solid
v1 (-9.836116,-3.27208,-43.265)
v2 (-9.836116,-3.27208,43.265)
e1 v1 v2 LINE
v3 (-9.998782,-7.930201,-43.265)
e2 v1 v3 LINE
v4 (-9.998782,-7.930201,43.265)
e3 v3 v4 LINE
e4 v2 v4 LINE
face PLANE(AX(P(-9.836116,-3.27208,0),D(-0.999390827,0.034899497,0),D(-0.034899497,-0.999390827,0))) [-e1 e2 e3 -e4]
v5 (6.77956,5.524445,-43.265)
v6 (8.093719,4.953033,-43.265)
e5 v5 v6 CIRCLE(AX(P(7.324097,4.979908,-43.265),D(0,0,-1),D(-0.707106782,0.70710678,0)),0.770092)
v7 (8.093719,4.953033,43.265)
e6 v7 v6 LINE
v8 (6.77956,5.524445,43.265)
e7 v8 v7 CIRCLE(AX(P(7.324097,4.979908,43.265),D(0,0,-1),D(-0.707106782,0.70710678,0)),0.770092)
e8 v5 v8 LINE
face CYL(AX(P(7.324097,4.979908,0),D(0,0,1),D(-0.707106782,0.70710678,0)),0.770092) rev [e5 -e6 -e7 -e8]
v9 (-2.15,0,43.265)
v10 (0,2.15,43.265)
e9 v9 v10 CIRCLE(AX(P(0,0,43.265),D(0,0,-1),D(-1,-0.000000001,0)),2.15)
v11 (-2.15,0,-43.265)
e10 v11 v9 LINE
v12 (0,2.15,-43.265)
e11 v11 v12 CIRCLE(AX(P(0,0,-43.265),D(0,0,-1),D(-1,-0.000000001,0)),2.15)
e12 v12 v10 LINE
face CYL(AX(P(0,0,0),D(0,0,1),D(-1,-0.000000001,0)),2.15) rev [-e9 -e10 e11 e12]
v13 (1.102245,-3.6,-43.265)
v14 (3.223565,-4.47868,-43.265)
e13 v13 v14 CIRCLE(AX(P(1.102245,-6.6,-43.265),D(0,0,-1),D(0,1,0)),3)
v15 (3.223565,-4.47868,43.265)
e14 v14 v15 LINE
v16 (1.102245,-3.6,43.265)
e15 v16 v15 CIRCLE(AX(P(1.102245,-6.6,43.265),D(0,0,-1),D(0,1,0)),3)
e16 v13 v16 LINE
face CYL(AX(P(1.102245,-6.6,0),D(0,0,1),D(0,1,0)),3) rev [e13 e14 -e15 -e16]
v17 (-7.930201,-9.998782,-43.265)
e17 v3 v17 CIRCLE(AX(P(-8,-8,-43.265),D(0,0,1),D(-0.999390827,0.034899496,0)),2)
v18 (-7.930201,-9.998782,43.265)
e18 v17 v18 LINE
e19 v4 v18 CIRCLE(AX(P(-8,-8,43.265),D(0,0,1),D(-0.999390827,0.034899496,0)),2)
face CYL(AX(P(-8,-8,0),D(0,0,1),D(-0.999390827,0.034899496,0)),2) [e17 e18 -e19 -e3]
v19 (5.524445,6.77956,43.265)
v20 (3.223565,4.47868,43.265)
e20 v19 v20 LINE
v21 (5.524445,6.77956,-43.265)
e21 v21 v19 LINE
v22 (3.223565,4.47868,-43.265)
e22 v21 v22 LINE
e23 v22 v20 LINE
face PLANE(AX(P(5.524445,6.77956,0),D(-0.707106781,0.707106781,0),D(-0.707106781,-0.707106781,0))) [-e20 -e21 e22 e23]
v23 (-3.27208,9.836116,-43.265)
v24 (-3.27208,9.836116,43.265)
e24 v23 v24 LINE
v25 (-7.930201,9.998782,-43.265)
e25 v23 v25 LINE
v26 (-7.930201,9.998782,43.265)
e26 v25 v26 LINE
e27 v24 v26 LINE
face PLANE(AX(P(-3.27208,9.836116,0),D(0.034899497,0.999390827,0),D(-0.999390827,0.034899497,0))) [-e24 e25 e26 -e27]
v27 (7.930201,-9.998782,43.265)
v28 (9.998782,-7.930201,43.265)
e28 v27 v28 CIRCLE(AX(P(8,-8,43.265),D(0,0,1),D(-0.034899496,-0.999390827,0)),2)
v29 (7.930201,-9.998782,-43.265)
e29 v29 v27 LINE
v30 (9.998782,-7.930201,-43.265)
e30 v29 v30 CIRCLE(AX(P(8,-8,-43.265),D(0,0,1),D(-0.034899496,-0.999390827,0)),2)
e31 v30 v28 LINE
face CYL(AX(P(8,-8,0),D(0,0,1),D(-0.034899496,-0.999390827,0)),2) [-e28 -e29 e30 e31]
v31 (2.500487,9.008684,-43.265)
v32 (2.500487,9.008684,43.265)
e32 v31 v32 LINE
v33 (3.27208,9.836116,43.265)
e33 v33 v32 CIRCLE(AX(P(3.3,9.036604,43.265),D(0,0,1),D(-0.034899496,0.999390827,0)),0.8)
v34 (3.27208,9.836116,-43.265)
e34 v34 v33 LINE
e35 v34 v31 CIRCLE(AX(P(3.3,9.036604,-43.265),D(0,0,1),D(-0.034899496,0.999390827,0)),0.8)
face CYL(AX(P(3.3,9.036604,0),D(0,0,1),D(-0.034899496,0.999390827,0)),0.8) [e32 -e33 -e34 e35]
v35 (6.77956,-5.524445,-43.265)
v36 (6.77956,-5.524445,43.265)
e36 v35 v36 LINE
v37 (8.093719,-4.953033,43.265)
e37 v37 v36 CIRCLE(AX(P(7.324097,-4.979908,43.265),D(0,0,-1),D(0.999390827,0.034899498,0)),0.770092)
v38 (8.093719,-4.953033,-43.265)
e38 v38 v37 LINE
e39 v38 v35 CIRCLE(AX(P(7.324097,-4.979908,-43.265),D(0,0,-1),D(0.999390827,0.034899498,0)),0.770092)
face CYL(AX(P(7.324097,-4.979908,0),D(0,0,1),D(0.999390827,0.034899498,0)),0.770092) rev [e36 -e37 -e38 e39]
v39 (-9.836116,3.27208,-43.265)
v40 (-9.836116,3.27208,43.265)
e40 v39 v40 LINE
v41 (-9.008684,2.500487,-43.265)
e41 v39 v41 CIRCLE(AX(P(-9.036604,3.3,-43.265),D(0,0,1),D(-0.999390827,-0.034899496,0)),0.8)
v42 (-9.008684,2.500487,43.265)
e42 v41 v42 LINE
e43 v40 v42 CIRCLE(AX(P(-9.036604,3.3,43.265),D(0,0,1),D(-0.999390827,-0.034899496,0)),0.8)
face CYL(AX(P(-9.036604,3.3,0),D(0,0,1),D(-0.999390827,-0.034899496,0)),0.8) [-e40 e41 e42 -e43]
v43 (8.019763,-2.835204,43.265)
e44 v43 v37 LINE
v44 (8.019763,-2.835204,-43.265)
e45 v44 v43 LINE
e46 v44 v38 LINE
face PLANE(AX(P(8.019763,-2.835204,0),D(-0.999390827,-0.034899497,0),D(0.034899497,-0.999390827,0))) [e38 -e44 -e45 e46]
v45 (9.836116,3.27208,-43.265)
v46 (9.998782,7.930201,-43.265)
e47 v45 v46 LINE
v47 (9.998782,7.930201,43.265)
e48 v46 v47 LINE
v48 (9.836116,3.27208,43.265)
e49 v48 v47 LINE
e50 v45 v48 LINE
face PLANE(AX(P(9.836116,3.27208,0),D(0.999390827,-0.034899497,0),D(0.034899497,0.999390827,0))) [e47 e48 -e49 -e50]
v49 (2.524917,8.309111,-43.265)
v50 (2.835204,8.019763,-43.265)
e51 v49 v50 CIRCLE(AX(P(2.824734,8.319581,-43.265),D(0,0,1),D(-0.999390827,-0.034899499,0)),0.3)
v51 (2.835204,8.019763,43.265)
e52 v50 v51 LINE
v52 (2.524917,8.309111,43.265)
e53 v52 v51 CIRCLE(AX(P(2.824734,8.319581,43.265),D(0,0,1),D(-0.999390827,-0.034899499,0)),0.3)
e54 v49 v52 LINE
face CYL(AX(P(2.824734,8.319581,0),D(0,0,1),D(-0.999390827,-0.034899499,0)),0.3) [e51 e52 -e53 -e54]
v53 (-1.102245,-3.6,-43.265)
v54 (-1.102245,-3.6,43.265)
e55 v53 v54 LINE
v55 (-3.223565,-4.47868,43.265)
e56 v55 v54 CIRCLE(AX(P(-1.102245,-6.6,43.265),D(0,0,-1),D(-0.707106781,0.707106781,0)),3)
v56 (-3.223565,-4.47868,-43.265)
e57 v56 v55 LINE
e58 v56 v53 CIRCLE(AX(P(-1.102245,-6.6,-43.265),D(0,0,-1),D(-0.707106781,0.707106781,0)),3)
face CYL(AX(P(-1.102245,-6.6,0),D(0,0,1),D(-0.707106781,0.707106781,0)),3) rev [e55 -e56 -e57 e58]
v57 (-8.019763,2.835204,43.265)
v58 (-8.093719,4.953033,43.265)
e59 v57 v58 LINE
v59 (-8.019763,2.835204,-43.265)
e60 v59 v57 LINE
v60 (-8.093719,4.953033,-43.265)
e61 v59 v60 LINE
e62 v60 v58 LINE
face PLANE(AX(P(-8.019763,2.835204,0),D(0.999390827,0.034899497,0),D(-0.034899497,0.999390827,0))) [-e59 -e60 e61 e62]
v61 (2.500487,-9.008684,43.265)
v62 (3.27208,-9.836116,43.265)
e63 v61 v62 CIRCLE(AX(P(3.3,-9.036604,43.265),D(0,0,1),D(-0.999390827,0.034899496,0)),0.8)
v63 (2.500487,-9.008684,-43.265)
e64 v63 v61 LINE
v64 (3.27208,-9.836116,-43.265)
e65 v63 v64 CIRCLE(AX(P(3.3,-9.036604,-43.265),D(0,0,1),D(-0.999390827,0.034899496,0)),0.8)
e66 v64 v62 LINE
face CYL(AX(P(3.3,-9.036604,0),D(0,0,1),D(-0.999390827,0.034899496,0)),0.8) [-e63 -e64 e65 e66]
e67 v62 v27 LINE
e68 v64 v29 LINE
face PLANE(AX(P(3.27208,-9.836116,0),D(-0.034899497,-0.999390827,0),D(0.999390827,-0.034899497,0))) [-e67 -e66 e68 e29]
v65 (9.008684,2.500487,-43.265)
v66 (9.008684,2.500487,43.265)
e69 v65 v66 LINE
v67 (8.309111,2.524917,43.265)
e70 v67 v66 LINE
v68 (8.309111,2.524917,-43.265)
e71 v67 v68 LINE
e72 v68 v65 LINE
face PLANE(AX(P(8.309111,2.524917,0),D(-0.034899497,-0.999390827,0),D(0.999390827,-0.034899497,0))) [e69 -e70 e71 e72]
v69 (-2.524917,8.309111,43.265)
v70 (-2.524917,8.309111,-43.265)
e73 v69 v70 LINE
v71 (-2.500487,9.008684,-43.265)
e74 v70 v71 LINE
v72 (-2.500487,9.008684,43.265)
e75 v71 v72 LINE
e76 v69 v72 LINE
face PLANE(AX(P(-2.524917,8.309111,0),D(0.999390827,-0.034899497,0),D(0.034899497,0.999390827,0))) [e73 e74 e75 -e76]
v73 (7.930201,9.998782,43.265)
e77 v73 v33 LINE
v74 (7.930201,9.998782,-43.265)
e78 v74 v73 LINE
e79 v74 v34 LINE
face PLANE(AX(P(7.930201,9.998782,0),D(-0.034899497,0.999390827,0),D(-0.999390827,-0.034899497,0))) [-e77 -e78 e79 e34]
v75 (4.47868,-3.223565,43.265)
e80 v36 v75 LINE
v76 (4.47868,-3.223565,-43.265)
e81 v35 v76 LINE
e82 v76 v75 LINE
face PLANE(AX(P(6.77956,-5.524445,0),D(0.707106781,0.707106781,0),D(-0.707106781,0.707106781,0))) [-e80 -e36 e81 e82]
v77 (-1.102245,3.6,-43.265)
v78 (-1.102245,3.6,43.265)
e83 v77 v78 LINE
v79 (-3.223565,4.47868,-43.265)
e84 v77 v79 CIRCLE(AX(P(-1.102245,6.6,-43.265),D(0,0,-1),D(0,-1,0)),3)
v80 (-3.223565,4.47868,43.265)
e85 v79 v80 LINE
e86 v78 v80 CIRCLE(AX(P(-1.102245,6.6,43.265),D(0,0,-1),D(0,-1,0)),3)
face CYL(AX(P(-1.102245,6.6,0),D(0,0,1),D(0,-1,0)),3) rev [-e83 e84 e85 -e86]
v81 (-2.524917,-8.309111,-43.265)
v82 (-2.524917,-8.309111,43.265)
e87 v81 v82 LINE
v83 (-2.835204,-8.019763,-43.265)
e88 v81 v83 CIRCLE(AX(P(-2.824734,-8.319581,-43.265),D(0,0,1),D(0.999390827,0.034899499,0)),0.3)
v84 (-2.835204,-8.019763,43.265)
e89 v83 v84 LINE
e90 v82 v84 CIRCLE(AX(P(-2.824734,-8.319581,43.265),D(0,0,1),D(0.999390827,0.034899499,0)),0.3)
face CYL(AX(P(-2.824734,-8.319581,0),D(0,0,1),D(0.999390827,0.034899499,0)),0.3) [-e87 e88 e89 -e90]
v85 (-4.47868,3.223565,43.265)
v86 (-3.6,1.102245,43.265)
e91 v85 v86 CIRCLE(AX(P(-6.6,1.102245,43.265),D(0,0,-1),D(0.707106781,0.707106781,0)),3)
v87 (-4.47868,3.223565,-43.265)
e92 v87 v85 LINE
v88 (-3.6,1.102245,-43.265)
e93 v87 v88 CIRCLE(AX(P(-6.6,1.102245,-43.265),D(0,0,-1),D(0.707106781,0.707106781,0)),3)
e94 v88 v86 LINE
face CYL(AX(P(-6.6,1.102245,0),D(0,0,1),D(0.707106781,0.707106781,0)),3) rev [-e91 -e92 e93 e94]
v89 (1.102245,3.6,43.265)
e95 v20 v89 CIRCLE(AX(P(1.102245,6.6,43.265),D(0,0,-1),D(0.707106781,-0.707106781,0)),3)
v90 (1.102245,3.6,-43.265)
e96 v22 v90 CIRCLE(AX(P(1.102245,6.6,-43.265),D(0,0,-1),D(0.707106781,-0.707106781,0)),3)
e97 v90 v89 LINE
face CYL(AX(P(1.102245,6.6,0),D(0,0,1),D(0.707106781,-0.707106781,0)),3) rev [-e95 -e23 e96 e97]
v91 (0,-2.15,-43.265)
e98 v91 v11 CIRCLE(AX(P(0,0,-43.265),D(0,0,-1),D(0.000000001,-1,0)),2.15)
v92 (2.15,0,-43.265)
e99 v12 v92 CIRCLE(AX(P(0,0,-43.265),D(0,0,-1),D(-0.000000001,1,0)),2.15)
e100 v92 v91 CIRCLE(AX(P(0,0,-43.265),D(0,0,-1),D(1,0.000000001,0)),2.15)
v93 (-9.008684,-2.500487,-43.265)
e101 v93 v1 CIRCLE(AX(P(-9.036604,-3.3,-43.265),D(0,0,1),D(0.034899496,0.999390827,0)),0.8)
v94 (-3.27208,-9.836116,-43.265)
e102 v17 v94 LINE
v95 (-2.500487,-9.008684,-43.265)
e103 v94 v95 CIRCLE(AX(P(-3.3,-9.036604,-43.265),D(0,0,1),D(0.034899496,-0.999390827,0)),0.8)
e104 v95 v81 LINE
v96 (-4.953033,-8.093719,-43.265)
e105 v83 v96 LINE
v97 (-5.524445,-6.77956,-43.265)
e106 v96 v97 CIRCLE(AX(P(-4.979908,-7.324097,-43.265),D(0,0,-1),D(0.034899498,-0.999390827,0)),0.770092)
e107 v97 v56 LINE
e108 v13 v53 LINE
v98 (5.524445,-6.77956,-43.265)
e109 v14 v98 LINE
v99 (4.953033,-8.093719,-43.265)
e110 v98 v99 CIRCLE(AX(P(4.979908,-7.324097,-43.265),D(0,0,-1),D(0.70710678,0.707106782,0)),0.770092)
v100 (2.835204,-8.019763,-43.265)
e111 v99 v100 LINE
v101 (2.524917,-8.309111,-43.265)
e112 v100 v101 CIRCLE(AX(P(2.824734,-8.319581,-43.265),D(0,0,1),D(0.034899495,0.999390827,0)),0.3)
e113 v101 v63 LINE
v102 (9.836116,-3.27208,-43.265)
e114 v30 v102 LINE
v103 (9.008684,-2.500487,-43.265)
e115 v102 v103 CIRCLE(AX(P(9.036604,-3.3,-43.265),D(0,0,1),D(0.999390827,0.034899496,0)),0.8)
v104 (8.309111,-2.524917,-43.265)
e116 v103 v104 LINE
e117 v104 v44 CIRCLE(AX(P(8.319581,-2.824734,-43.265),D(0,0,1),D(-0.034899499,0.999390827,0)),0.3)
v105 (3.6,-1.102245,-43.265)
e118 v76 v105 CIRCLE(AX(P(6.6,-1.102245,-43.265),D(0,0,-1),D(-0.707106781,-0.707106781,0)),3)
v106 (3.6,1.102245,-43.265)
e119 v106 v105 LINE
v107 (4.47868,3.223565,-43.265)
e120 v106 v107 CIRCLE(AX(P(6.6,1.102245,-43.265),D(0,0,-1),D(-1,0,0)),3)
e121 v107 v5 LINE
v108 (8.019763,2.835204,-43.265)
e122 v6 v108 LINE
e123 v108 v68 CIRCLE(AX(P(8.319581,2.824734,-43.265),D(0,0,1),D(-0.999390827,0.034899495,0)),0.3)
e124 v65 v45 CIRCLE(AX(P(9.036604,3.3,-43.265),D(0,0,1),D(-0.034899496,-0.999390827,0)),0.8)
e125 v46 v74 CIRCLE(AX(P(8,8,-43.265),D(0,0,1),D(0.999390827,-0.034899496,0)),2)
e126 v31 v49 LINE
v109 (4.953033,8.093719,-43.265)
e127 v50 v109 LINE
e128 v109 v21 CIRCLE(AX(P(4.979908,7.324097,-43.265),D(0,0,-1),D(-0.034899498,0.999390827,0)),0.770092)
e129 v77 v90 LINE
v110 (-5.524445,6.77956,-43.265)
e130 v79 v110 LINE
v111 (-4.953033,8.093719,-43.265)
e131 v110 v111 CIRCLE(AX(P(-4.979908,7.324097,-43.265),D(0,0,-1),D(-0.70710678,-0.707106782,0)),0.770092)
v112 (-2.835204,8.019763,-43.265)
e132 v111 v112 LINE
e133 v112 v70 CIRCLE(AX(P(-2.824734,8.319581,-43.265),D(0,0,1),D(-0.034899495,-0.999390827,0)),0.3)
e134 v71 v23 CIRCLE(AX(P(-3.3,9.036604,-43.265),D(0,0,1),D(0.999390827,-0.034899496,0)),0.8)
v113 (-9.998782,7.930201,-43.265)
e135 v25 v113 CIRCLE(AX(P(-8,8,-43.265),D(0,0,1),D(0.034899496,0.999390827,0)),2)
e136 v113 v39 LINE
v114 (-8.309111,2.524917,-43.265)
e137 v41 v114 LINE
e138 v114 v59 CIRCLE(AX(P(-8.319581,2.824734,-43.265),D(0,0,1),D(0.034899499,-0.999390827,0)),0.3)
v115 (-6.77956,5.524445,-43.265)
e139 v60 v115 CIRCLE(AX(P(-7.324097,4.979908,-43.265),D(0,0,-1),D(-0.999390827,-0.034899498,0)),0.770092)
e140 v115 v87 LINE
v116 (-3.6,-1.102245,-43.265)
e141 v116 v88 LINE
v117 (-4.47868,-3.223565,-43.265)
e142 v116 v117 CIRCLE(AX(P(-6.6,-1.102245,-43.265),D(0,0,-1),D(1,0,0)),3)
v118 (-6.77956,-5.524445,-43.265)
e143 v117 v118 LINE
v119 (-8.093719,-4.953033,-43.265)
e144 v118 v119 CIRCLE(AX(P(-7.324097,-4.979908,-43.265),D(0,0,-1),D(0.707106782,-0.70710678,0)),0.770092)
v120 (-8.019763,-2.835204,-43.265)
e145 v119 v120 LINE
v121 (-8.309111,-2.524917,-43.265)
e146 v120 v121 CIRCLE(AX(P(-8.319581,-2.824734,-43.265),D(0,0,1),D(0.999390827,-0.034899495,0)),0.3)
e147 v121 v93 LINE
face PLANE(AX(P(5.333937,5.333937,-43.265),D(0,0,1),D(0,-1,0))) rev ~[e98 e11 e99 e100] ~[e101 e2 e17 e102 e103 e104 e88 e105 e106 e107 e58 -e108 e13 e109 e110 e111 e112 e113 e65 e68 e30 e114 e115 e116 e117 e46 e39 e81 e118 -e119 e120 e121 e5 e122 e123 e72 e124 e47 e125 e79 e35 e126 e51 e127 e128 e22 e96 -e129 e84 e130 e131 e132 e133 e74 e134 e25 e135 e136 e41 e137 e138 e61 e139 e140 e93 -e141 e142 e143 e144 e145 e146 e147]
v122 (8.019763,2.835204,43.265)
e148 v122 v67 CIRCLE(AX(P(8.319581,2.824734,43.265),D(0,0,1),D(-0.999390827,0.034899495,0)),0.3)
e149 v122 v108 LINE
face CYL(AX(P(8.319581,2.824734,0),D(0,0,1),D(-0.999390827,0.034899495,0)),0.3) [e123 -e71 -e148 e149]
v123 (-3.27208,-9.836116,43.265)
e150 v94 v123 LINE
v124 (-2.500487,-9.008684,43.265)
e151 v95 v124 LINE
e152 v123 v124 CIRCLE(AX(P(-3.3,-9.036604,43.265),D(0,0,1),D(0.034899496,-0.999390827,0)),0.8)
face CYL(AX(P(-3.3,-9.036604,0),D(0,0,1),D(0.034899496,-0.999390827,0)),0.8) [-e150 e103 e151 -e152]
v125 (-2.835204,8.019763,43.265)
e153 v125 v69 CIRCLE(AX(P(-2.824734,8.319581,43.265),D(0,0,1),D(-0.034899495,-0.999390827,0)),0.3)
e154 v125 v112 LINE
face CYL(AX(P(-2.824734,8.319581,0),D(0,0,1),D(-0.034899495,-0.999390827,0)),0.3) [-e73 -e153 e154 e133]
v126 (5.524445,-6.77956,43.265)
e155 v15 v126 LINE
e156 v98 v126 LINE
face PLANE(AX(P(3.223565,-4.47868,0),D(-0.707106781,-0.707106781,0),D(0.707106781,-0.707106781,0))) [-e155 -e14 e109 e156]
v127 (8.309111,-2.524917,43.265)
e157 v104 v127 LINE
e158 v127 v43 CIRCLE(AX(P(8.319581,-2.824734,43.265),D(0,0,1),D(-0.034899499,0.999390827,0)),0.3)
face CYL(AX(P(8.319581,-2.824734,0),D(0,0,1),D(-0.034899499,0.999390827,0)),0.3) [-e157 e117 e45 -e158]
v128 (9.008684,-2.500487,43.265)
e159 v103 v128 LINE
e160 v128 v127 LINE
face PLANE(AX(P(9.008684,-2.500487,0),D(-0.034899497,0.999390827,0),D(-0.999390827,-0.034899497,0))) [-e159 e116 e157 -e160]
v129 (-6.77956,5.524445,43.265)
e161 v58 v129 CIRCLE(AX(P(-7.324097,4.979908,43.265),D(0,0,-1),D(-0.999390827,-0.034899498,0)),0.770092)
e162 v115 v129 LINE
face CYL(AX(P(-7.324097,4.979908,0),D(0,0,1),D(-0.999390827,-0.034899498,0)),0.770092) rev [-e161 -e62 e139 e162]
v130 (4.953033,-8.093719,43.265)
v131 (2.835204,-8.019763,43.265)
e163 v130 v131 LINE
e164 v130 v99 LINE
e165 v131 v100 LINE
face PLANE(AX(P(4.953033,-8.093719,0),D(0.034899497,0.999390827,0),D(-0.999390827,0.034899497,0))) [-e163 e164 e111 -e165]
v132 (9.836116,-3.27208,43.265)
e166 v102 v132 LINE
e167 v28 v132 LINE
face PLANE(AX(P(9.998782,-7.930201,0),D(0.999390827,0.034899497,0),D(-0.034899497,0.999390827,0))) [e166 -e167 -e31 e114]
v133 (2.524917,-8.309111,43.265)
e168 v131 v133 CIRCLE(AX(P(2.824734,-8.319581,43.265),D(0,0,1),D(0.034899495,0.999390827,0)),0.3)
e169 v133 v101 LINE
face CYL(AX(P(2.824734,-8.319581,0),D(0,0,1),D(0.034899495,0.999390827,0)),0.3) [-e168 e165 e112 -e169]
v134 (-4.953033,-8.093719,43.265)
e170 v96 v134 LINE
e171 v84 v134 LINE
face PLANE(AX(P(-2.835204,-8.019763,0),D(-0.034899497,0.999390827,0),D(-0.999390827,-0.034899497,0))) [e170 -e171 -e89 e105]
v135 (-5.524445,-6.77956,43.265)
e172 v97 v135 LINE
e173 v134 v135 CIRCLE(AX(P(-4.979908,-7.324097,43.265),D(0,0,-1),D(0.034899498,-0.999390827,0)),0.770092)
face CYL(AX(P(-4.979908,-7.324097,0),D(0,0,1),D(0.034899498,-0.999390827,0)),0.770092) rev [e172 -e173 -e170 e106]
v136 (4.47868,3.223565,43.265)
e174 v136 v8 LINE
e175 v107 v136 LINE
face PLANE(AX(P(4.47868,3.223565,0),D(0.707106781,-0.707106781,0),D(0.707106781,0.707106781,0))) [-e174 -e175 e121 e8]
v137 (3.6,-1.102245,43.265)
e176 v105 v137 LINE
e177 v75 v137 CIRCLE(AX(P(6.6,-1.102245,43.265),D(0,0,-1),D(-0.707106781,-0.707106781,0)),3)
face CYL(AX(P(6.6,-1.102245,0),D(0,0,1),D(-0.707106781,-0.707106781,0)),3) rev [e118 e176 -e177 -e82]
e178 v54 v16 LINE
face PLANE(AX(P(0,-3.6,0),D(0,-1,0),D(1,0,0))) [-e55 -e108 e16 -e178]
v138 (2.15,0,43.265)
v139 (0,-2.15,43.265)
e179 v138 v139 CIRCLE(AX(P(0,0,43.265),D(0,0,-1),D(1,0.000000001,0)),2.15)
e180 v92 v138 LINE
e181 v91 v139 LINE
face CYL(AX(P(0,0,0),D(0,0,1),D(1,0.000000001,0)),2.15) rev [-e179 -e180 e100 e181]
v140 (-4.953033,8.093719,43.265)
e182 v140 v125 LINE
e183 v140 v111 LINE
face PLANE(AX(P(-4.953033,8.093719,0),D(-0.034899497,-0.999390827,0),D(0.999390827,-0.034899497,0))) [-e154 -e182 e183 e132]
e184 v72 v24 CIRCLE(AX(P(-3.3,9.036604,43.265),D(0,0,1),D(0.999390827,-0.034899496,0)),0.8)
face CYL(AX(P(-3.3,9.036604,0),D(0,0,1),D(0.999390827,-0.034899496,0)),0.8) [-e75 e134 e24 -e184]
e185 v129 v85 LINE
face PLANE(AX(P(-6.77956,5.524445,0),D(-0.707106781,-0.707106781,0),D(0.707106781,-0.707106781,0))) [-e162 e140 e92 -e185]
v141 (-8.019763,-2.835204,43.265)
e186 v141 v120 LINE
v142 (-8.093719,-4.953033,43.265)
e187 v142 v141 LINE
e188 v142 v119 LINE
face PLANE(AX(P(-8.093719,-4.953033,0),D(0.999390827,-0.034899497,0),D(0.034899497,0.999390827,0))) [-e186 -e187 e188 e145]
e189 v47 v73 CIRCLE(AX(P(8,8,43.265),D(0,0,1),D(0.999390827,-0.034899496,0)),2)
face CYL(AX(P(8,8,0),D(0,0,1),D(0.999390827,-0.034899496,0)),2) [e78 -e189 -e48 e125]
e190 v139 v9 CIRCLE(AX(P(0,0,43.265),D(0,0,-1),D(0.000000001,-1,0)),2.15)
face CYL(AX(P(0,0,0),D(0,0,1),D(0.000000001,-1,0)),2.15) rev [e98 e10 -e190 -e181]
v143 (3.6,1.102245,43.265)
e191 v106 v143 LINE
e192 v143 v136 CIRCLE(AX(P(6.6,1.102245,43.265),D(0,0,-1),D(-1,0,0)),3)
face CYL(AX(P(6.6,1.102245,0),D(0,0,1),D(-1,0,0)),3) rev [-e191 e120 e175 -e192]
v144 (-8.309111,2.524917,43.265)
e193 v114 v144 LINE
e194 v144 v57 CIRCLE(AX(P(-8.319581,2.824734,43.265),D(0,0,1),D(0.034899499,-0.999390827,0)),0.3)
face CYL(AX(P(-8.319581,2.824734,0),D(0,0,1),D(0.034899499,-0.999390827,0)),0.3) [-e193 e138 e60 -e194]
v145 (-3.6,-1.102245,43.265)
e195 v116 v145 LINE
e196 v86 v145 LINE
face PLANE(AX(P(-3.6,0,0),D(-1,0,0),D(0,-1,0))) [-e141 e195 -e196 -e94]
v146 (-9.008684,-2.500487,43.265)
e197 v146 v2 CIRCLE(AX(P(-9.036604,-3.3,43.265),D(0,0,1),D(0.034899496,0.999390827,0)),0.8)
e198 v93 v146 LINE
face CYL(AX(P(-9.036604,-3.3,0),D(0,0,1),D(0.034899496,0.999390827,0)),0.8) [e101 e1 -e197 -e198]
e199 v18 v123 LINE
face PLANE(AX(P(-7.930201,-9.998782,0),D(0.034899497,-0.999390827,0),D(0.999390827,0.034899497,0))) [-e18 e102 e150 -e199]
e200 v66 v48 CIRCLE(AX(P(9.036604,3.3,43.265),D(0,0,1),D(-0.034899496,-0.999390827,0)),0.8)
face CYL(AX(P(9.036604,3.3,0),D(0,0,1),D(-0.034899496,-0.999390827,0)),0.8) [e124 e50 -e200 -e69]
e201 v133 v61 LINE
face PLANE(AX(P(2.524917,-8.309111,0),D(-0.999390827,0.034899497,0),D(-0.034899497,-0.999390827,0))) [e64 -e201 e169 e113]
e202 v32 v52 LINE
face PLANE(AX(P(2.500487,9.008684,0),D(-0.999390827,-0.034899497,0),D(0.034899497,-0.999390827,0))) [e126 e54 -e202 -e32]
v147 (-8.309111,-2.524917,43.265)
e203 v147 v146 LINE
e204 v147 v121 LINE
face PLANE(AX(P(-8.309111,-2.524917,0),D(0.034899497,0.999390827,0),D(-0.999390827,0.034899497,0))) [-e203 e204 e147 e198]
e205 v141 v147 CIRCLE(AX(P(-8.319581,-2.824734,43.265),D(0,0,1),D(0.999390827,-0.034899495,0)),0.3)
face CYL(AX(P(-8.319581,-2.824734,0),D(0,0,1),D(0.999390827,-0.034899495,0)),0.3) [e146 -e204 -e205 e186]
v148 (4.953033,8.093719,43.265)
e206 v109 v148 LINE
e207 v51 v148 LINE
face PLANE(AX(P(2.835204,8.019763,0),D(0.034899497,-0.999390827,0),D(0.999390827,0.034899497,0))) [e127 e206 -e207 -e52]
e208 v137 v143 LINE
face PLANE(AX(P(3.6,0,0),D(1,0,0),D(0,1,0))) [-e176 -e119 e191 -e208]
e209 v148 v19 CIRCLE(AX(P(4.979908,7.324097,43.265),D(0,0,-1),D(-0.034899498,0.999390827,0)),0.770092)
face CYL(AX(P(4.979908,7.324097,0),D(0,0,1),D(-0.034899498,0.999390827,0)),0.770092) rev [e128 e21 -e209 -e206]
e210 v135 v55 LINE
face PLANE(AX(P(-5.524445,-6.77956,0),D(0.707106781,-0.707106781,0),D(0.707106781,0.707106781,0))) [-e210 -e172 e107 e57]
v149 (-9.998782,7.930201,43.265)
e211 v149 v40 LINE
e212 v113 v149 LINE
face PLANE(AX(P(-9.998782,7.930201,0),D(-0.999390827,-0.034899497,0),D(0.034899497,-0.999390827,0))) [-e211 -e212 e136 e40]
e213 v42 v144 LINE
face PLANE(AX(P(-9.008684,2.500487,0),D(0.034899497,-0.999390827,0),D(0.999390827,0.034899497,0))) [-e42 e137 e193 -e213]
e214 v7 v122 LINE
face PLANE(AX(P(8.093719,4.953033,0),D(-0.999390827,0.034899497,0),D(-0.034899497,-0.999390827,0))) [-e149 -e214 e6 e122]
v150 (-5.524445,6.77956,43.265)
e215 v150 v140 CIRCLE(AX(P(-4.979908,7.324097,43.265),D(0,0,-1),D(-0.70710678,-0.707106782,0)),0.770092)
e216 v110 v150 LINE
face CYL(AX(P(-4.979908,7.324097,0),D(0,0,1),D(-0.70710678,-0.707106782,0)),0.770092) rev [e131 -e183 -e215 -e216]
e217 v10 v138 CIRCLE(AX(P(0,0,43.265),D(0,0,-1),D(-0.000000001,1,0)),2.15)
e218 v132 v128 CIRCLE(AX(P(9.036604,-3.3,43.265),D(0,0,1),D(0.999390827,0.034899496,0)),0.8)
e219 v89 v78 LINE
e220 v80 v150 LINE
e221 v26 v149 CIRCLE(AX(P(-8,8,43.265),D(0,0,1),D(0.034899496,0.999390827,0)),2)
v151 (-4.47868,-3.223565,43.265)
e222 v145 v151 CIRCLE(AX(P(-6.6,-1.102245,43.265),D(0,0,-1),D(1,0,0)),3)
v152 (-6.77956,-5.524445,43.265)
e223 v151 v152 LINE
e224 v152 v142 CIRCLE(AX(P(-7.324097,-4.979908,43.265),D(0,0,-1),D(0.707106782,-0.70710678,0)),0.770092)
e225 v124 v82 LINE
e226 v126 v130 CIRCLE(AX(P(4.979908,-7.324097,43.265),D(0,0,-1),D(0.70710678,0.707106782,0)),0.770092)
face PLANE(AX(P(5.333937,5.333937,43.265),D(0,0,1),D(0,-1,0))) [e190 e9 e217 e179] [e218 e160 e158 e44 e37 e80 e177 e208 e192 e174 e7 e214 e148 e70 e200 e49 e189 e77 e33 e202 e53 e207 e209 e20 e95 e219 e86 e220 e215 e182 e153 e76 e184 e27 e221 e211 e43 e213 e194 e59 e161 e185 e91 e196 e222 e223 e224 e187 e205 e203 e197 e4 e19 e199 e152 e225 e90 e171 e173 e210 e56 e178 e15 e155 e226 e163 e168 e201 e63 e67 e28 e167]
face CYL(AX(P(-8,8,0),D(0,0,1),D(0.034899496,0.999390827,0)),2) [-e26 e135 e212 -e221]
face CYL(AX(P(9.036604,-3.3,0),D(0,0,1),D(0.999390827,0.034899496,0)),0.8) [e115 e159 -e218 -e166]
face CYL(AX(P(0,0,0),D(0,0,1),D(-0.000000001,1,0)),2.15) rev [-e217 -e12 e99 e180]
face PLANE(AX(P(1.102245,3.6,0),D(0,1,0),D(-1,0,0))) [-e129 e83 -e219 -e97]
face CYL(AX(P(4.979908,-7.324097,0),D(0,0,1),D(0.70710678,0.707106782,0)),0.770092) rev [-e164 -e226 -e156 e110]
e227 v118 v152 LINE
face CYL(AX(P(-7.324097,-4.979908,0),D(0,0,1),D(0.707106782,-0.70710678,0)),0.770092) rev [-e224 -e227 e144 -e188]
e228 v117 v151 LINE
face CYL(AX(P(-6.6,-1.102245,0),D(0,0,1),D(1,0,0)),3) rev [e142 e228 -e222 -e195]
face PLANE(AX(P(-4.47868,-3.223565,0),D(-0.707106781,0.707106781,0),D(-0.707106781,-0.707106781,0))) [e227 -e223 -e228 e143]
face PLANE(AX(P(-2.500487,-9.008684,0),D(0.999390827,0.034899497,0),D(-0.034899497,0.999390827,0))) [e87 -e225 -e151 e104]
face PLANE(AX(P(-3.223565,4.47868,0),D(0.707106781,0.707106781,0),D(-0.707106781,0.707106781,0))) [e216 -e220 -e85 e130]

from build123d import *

# Parameters (mm, degrees)
BOSS_EXTRUDE1_DEPTH = 43.265
CIRPATTERN1_COUNT   = 4


with BuildPart() as part:
    # Sketch3 → Boss-Extrude1 (new, symmetric)
    with BuildSketch(Plane.XY):
        with BuildLine():
            Line((-2.524916986, 8.30911066), (-2.500487338, 9.008684239))
            ThreePointArc((-2.500487338, 9.008684239), (-2.714917039, 9.582202525), (-3.272080403, 9.836116498))
            Line((-3.272080403, 9.836116498), (-7.930201007, 9.998781654))
            ThreePointArc((-7.930201007, 9.998781654), (-9.414213562, 9.414213562), (-9.998781654, 7.930201007))
            Line((-9.998781654, 7.930201007), (-9.836116498, 3.272080403))
            ThreePointArc((-9.836116498, 3.272080403), (-9.582202525, 2.714917039), (-9.008684239, 2.500487338))
            Line((-9.008684239, 2.500487338), (-8.30911066, 2.524916986))
            ThreePointArc((-8.30911066, 2.524916986), (-8.100174399, 2.620134726), (-8.019763261, 2.835204083))
            Line((-8.019763261, 2.835204083), (-8.093719461, 4.953032548))
            ThreePointArc((-8.093719461, 4.953032548), (-7.631170264, 5.686128657), (-6.779559917, 5.52444538))
            Line((-6.779559917, 5.52444538), (-4.478679656, 3.22356512))
            ThreePointArc((-4.478679656, 3.22356512), (-3.828361402, 2.250295073), (-3.6, 1.102244776))
            Line((-3.6, 1.102244776), (-3.6, 0))
            Line((-3.6, 0), (-2.15, 0))
            ThreePointArc((-2.15, 0), (-1.52027958, 1.52027958), (0, 2.15))
            Line((0, 2.15), (0, 3.6))
            Line((0, 3.6), (-1.102244776, 3.6))
            ThreePointArc((-1.102244776, 3.6), (-2.250295073, 3.828361402), (-3.22356512, 4.478679656))
            Line((-3.22356512, 4.478679656), (-5.52444538, 6.779559917))
            ThreePointArc((-5.52444538, 6.779559917), (-5.686128657, 7.631170264), (-4.953032548, 8.093719461))
            Line((-4.953032548, 8.093719461), (-2.835204083, 8.019763261))
            ThreePointArc((-2.835204083, 8.019763261), (-2.620134726, 8.100174399), (-2.524916986, 8.30911066))
        make_face()
    boss_extrude1 = extrude(amount=BOSS_EXTRUDE1_DEPTH, both=True)

    # CirPattern1: Boss-Extrude1 ×4 about axis
    cirpattern1_axis = Axis((0, 0, 0), (0, 0, 1))
    for i in range(1, CIRPATTERN1_COUNT):
        add(boss_extrude1.rotate(cirpattern1_axis, i * 360 / CIRPATTERN1_COUNT))


solid = part.part
